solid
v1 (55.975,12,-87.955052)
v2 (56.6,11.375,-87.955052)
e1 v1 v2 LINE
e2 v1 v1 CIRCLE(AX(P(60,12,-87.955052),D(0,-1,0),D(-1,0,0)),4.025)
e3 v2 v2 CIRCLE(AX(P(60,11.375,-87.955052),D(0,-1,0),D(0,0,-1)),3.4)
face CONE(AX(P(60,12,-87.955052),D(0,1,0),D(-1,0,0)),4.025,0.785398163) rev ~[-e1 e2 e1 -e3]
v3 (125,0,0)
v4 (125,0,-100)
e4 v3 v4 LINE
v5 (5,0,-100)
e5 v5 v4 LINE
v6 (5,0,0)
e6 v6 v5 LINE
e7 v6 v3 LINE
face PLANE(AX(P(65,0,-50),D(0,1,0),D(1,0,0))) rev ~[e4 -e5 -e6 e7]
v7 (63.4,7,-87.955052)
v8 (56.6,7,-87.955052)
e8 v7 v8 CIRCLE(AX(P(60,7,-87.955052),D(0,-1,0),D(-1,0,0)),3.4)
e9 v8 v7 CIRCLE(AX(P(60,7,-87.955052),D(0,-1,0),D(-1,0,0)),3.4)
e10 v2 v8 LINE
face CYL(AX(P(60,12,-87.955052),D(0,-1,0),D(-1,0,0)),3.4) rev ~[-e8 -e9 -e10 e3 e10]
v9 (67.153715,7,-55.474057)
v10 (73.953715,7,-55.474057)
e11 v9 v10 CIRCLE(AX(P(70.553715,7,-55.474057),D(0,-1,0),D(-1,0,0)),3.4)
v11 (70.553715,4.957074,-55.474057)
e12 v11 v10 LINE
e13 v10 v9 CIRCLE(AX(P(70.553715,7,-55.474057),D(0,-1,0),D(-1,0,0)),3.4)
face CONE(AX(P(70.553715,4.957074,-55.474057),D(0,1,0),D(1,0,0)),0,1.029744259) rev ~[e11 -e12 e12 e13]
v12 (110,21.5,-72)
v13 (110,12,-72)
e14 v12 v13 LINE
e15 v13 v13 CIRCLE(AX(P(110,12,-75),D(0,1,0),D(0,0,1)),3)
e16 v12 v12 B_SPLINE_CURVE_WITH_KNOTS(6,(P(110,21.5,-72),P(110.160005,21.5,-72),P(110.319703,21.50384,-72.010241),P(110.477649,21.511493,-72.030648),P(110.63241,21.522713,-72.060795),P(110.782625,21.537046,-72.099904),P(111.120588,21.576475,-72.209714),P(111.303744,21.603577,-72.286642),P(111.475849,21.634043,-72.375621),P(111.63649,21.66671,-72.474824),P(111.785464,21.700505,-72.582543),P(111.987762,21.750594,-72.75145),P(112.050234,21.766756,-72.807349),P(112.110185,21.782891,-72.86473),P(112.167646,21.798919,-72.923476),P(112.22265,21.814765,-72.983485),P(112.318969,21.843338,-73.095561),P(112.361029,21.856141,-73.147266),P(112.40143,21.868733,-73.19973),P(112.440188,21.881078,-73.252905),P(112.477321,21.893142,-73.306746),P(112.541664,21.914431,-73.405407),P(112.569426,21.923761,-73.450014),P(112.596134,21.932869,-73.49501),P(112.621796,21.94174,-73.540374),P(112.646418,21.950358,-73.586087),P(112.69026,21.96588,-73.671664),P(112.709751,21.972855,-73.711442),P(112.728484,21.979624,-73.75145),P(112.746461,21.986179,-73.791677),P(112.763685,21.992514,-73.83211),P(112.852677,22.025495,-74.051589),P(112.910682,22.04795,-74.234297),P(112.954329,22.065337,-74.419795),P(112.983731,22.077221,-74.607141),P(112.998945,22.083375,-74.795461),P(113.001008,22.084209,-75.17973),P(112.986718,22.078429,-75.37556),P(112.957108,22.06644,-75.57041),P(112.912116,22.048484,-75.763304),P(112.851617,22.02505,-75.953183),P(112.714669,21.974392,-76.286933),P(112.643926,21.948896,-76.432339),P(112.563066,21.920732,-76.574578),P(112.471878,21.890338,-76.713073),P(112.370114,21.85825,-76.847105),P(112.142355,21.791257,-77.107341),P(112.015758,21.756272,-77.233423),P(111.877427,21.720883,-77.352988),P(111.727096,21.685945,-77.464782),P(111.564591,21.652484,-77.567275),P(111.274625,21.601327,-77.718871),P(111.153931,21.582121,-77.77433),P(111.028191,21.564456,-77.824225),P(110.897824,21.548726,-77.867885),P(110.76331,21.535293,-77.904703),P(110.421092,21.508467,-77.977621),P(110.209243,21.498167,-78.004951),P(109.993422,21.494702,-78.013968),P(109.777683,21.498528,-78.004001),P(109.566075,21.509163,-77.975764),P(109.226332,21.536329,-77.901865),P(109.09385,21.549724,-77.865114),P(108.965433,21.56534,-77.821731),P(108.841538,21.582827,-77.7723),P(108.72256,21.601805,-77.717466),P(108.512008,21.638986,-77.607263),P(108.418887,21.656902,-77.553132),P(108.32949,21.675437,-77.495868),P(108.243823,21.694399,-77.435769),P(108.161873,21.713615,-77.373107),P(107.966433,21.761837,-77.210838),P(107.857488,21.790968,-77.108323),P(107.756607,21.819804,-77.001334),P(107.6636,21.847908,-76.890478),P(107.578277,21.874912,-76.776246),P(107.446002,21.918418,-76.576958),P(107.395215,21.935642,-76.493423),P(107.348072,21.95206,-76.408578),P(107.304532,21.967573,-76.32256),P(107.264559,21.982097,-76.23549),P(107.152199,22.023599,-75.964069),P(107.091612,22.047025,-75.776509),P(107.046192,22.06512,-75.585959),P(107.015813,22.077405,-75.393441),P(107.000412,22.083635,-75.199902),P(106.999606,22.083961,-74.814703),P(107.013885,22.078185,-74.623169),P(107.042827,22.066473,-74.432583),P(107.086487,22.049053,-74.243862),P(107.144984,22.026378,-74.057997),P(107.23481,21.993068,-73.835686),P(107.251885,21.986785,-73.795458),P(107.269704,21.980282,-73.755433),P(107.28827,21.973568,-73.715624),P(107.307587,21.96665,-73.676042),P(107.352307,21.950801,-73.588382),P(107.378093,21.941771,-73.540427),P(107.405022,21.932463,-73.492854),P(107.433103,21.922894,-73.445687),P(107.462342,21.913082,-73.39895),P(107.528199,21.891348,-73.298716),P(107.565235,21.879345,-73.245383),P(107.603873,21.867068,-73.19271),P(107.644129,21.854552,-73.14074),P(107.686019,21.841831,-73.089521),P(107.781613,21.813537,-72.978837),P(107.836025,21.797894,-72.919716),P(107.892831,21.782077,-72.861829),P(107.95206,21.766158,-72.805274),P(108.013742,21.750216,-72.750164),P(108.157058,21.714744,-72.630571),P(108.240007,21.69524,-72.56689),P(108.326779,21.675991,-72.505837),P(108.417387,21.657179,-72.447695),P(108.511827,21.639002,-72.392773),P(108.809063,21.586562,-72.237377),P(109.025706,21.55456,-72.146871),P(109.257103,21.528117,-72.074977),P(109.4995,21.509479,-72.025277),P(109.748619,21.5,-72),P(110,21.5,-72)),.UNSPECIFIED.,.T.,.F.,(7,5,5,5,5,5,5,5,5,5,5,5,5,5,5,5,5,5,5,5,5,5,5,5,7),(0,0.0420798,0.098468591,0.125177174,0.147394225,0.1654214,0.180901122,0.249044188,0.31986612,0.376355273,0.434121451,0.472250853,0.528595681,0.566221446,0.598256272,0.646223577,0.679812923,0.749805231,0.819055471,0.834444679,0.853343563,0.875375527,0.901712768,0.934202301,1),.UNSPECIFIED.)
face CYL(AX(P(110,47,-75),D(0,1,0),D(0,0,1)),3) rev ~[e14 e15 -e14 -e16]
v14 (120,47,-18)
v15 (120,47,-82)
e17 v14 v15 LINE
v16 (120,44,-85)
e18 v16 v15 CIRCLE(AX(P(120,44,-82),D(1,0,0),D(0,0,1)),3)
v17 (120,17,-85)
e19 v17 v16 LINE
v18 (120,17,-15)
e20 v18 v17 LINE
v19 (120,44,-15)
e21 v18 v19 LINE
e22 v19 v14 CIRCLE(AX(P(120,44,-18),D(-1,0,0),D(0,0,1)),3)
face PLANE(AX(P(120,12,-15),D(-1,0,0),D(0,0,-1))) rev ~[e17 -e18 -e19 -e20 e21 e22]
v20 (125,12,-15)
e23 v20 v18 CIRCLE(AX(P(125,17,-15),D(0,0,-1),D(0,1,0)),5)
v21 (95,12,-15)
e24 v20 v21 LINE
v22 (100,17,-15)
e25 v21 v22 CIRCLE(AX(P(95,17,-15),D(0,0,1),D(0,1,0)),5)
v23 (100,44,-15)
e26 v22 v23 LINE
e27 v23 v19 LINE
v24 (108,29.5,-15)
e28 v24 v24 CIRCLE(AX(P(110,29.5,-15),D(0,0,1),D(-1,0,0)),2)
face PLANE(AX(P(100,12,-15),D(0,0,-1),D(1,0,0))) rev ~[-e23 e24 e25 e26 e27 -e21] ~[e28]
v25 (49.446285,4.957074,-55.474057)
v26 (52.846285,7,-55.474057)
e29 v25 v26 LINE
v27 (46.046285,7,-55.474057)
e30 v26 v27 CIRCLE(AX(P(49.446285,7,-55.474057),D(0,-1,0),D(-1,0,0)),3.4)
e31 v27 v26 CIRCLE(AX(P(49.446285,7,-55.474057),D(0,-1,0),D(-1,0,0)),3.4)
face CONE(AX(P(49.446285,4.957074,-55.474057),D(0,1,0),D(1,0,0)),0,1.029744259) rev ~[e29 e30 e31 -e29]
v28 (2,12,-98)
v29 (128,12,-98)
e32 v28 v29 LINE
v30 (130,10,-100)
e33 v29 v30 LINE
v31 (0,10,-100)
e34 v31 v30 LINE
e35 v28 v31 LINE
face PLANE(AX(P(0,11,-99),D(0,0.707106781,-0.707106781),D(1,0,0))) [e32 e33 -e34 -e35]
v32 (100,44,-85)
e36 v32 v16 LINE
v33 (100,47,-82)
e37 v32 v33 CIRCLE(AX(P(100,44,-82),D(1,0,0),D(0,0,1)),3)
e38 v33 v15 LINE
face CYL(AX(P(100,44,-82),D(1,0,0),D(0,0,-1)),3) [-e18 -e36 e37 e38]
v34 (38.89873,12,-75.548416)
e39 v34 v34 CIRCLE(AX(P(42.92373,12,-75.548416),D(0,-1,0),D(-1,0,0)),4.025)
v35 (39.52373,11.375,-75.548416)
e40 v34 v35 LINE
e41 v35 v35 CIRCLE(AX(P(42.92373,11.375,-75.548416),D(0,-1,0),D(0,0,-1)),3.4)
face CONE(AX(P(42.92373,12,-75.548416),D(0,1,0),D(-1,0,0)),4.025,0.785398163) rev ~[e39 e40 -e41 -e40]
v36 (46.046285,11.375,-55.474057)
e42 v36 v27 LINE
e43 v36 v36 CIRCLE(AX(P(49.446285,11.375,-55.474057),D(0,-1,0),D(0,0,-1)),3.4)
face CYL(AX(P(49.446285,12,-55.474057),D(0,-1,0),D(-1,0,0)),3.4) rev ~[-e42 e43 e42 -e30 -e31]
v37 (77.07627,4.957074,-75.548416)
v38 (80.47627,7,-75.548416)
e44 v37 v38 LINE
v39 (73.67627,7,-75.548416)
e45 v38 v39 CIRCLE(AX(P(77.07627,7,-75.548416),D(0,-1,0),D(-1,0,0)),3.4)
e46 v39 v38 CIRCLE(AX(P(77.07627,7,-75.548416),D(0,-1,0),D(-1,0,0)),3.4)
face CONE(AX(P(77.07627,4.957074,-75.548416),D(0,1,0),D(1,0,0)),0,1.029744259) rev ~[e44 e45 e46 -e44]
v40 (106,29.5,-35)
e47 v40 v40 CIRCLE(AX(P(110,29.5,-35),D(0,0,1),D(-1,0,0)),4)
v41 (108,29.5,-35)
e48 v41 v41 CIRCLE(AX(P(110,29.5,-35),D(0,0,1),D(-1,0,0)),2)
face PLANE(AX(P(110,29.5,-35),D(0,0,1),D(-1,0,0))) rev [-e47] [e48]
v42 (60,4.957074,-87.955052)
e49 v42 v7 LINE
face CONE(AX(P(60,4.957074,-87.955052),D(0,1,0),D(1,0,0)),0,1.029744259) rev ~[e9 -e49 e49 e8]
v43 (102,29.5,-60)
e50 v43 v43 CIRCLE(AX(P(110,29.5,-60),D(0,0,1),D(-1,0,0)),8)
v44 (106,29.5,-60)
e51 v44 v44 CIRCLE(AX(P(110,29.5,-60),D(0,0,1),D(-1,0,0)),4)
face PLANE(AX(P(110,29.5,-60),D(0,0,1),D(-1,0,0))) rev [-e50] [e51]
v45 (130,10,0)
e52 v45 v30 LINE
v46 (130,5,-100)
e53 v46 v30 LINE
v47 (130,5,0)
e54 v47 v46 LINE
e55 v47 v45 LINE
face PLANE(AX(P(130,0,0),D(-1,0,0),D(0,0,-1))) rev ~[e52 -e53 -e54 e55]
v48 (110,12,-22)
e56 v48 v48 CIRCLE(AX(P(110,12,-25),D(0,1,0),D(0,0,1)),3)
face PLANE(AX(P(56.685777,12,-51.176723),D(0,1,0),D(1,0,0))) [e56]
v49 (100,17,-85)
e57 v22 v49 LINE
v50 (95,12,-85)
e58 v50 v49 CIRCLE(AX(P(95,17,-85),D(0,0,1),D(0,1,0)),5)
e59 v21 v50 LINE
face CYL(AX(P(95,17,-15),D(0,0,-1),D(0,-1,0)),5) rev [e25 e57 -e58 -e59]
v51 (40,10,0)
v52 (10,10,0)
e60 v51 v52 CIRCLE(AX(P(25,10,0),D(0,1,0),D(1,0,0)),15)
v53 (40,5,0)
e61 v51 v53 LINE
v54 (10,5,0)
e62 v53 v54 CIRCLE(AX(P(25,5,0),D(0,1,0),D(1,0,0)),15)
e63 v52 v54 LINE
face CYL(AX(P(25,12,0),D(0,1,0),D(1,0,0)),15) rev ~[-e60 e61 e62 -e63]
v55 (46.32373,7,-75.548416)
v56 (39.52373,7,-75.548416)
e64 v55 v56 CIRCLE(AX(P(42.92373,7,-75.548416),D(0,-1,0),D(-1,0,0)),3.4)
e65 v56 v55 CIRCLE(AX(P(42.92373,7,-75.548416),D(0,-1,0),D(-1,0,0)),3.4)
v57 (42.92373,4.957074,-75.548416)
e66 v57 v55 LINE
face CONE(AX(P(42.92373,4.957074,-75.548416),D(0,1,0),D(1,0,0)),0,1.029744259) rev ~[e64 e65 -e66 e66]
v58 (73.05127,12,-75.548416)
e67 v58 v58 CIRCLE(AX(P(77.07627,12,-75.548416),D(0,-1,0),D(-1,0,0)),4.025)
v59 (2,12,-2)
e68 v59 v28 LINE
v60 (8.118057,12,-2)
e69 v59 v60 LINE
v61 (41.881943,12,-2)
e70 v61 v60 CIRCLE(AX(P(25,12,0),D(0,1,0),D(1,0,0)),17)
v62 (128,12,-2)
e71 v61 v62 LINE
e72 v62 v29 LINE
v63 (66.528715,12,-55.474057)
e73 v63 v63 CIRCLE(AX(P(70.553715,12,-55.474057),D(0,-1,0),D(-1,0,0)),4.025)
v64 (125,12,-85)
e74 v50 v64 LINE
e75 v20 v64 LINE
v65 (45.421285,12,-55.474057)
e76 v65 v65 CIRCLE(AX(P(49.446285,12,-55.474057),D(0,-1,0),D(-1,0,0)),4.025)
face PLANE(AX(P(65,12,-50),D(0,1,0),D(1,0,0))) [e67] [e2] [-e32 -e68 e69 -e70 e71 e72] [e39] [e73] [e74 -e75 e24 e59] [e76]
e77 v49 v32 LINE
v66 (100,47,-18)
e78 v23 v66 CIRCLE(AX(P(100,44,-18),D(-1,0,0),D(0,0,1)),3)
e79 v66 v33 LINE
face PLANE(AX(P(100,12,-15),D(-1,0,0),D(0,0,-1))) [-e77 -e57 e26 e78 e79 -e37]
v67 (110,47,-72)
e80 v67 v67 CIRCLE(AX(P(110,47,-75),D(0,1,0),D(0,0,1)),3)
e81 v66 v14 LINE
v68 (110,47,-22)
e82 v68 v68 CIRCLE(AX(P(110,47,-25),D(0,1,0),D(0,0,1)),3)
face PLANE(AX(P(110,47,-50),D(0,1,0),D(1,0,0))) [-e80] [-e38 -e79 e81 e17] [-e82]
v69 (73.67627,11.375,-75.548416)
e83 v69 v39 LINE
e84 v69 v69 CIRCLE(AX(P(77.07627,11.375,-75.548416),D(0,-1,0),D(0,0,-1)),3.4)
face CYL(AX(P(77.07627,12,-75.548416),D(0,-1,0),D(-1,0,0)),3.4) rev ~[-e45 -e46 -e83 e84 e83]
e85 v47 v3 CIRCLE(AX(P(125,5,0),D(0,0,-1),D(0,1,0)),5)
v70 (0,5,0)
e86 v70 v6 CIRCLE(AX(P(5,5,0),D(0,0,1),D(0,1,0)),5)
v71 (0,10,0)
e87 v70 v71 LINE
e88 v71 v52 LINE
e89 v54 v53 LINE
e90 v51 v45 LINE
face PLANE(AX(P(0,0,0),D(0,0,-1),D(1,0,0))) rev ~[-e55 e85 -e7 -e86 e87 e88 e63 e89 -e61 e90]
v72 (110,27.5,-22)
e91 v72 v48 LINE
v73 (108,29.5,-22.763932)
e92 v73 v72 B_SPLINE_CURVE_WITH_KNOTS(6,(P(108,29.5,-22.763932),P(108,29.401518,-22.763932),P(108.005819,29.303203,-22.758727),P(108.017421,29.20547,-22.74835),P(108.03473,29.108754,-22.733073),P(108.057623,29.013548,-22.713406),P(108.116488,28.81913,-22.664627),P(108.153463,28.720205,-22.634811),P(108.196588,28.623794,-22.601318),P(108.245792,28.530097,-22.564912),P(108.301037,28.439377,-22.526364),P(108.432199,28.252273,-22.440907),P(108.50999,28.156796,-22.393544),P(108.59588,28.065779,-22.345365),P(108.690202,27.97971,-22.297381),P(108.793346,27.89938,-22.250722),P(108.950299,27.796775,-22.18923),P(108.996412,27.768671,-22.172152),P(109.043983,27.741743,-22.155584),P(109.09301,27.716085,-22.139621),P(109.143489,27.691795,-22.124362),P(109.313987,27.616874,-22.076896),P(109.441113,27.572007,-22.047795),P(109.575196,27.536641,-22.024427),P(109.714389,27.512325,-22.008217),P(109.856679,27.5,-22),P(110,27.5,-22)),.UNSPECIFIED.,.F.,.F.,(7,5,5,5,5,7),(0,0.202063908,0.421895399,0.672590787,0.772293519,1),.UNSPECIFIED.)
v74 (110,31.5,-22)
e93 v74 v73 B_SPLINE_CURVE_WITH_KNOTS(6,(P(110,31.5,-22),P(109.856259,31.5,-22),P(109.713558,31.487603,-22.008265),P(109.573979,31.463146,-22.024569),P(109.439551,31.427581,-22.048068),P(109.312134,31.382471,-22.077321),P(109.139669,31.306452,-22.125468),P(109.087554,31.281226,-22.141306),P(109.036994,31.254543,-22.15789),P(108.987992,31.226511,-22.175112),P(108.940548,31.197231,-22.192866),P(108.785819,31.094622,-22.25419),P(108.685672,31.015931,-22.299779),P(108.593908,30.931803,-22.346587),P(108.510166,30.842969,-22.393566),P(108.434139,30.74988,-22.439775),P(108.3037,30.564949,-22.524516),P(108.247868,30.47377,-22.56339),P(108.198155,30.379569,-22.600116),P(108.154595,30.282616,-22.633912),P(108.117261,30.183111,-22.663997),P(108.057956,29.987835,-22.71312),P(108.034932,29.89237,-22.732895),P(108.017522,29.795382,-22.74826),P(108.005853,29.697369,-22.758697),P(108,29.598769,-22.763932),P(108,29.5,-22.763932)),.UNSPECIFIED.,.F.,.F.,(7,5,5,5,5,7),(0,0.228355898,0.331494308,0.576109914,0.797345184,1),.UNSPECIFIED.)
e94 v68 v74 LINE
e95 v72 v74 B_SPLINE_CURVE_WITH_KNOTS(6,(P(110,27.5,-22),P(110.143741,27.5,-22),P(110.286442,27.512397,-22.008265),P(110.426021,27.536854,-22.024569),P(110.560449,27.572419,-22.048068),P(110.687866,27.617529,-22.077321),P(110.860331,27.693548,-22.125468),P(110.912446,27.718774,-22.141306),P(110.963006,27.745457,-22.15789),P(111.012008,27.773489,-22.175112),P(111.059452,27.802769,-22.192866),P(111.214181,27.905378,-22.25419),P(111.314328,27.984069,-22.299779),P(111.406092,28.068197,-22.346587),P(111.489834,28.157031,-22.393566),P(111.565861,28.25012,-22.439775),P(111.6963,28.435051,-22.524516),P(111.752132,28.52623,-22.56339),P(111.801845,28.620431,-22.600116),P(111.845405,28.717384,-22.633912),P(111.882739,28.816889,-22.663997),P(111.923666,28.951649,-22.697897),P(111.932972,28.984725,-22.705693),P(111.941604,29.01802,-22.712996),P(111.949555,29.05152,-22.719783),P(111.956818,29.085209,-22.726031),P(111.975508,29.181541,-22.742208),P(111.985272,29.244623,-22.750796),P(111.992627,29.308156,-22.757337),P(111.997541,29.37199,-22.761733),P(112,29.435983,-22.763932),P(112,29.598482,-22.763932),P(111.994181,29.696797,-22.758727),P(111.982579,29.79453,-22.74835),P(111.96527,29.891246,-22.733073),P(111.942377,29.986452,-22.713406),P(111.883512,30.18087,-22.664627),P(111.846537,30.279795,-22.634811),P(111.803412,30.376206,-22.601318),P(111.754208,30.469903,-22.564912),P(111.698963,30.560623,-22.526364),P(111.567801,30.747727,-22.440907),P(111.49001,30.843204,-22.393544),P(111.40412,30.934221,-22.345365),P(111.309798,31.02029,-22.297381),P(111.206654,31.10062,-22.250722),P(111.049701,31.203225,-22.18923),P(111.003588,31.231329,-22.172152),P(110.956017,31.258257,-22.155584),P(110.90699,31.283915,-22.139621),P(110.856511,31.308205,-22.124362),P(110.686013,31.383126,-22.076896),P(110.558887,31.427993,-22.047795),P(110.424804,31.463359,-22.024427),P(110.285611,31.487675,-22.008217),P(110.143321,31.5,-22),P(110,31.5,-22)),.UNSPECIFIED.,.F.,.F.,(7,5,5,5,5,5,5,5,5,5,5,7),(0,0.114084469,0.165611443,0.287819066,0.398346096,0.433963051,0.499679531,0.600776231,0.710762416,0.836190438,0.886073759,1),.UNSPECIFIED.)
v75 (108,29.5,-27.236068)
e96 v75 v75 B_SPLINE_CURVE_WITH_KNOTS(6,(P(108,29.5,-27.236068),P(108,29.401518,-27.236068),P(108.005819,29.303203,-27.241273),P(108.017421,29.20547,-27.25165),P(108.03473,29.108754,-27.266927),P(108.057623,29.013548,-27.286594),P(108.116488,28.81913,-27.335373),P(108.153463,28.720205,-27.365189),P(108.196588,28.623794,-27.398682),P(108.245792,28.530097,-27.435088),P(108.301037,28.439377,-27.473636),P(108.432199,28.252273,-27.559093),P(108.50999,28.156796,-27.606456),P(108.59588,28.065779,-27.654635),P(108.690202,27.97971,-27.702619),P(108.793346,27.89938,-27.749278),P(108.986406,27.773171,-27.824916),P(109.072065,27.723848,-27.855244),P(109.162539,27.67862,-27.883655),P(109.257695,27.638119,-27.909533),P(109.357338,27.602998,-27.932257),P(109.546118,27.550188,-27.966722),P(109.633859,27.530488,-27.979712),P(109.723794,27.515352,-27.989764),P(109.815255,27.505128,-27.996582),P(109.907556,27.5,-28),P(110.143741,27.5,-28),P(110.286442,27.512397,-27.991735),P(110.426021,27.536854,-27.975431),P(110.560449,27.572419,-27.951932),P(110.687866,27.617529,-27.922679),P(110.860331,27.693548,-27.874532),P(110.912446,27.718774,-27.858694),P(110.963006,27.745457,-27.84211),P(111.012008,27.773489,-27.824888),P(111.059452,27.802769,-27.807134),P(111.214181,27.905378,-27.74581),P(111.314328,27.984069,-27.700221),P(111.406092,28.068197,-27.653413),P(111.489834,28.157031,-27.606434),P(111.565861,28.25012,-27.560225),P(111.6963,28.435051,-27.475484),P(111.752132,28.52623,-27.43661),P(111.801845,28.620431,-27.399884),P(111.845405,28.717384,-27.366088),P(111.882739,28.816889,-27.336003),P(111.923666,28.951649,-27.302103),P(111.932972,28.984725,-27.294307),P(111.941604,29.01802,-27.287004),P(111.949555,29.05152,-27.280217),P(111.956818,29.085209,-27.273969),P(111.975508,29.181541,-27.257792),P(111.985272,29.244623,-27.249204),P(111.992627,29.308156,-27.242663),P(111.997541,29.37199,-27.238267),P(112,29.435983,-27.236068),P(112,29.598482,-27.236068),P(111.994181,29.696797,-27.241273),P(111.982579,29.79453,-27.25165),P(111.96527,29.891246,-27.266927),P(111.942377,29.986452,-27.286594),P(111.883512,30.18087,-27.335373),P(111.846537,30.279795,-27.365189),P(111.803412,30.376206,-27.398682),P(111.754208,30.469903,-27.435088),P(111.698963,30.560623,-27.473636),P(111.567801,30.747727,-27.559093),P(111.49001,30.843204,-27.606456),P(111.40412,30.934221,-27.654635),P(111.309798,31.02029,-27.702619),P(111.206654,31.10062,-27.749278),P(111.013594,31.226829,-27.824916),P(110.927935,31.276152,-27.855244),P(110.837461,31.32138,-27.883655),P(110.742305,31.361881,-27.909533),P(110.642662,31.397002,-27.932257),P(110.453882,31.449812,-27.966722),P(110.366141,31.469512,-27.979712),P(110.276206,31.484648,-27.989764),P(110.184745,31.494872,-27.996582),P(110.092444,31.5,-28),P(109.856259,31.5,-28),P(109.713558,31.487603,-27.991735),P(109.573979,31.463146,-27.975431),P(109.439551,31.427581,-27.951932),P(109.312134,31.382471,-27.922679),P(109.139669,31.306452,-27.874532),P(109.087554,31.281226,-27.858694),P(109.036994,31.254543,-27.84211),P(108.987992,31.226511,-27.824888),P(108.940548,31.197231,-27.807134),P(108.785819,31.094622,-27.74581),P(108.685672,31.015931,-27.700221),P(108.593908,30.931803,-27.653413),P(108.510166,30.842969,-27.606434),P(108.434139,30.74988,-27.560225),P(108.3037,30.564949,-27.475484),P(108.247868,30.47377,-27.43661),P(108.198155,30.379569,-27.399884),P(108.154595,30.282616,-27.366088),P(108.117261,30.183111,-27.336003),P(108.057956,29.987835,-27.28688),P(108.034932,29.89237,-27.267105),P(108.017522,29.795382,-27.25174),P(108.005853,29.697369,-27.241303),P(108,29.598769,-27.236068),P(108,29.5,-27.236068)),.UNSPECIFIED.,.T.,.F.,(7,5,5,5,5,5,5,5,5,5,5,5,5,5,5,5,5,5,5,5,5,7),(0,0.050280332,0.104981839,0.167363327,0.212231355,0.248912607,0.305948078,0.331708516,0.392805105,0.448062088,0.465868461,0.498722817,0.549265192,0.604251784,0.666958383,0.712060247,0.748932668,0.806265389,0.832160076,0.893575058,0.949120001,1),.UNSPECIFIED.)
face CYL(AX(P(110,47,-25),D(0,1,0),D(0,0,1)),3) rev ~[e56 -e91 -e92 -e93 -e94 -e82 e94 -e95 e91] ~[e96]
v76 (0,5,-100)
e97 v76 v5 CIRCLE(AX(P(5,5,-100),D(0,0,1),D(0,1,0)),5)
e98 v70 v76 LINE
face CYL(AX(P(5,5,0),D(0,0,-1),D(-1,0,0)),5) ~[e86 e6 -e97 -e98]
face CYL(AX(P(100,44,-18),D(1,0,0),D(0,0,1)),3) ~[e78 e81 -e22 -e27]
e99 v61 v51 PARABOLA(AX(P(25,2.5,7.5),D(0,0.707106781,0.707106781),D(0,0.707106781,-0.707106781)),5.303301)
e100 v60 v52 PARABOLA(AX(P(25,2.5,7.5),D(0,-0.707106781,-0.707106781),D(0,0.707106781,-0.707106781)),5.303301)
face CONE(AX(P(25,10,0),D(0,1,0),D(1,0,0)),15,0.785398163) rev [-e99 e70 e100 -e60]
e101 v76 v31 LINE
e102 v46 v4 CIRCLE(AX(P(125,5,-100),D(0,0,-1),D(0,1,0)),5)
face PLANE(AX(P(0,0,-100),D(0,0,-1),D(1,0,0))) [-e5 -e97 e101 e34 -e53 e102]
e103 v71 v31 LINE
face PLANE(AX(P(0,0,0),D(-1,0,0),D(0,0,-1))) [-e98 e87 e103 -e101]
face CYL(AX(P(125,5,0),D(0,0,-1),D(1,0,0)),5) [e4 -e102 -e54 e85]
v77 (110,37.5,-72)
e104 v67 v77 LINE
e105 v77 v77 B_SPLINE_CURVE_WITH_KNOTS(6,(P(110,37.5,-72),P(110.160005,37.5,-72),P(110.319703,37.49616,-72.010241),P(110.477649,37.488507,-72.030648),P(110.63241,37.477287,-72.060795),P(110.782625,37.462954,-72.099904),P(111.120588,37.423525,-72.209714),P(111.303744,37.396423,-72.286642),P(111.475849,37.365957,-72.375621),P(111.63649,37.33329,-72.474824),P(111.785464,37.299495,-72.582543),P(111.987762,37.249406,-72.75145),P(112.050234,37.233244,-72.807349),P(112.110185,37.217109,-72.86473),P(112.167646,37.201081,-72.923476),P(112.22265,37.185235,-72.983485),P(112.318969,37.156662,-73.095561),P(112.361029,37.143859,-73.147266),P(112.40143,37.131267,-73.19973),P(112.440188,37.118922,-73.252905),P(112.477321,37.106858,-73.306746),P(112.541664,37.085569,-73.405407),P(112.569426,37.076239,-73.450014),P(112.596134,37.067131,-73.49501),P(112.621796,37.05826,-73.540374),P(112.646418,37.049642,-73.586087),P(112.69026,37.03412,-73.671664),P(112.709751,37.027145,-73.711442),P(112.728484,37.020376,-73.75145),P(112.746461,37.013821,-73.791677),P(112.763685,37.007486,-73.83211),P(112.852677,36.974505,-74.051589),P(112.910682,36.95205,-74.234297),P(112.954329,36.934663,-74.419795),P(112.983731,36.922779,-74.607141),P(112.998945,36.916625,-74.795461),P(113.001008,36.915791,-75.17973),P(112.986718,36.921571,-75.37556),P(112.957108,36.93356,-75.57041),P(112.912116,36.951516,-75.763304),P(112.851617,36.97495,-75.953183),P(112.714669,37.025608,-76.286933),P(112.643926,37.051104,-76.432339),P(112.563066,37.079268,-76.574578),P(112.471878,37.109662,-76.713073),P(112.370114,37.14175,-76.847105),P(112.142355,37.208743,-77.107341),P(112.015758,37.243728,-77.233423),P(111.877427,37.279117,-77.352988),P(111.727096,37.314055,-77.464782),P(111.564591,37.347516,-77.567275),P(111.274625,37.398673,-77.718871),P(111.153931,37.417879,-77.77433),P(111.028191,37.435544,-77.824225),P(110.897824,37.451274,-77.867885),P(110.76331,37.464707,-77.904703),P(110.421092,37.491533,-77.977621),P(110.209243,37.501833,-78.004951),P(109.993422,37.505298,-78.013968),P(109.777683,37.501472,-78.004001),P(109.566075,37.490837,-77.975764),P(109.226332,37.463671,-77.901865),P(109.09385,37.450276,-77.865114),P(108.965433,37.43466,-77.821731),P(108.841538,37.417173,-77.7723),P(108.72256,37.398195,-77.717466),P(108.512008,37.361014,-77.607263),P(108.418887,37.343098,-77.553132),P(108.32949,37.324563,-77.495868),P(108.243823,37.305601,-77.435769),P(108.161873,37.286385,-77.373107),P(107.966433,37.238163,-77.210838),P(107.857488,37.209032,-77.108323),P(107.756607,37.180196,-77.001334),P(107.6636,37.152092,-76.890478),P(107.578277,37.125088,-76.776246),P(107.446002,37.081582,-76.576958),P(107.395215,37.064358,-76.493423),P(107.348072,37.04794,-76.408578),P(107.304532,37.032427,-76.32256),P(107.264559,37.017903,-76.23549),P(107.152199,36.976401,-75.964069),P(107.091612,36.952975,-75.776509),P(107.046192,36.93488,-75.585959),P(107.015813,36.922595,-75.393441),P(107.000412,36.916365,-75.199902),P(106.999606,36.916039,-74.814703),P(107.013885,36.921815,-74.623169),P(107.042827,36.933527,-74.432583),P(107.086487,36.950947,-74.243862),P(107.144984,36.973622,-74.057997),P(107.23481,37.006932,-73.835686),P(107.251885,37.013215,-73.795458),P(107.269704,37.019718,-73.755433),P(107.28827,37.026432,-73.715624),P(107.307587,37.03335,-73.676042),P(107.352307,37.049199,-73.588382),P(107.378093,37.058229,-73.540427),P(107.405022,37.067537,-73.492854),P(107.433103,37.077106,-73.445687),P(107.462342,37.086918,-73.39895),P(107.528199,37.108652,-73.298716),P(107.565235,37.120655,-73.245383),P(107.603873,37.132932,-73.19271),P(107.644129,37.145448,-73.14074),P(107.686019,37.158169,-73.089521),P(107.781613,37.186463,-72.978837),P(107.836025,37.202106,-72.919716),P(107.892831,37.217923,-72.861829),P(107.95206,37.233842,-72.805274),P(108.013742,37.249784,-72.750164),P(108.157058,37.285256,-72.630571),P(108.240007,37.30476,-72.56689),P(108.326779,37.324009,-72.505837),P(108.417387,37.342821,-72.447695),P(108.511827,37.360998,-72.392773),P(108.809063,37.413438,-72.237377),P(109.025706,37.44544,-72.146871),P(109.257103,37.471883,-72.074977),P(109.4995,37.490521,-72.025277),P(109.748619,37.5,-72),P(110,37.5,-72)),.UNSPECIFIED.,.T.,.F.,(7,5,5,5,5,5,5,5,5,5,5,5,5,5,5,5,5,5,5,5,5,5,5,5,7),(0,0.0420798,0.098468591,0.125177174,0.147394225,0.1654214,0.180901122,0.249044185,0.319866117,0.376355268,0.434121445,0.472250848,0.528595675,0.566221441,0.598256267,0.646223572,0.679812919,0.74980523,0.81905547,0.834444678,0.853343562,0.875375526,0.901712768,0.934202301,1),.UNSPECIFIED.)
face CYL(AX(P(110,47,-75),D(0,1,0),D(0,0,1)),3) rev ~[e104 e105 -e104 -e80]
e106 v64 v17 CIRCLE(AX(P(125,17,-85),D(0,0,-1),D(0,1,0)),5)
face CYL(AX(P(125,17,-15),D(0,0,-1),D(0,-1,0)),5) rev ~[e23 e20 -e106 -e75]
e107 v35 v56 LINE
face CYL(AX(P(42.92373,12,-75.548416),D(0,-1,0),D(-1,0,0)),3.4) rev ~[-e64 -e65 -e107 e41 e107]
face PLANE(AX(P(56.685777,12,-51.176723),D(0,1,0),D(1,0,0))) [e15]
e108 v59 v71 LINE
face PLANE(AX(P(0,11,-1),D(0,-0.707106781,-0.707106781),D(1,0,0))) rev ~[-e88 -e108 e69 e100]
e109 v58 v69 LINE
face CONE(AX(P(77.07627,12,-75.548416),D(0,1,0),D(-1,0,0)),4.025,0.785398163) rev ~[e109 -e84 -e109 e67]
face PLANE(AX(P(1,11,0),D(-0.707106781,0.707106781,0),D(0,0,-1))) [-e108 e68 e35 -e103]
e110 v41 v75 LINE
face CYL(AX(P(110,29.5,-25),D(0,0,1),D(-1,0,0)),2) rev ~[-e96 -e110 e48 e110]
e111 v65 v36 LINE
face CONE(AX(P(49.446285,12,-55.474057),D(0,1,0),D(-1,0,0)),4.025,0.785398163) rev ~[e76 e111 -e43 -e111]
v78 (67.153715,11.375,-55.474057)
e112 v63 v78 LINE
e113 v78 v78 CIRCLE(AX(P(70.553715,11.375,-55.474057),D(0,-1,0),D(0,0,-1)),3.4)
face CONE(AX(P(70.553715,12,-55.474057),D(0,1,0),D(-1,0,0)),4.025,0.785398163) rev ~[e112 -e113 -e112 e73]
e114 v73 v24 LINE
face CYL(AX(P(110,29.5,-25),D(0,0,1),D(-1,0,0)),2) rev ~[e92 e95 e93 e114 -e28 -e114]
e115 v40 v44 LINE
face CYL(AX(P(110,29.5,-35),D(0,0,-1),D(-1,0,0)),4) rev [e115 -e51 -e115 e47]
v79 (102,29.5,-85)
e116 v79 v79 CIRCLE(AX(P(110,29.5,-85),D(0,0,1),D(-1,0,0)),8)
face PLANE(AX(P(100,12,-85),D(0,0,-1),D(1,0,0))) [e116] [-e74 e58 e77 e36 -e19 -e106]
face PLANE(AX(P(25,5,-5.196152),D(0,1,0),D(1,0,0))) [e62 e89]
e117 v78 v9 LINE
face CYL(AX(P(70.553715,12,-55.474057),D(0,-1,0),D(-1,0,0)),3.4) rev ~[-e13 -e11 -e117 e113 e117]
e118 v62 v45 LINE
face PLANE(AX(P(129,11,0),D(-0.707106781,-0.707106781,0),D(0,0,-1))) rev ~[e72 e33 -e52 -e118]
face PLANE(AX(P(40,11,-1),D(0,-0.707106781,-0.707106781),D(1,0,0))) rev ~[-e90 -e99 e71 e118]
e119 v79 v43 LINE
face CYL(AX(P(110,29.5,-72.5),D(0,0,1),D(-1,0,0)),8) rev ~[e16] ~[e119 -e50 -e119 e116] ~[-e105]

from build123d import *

# Parameters (mm, degrees)
SKETCH1_W                   = 130
SKETCH1_H                   = 100
BOSS_EXTRUDE1_DEPTH         = 12
CUT_EXTRUDE1_DEPTH          = 7
SKETCH4_W                   = 20
SKETCH4_H                   = 70
BOSS_EXTRUDE2_DEPTH         = 35
SKETCH5_W                   = 25
SKETCH5_H                   = 8
SKETCH5_W_2                 = 20
SKETCH5_H_2                 = 2
FILLET1_R                   = 5
CHAMFER1_SIZE               = 2
M8_TAPPED_HOLE1_D           = 6.8
M8_TAPPED_HOLE1_DEPTH       = 5
M8_TAPPED_HOLE1_CSINK_D     = 8.05
M8_TAPPED_HOLE1_CSINK_ANGLE = 90
M8_TAPPED_HOLE1_TIP         = 2.042926105
CUT_EXTRUDE2_REACH          = 172.614
SKETCH13_R                  = 3
FILLET2_R                   = 3
FILLET3_R                   = 5


with BuildPart() as part:
    # Sketch1 → Boss-Extrude1 (new body)
    with BuildSketch(Plane(origin=(0, 0, 0), x_dir=(1, 0, 0), z_dir=(0, 1, 0))):
        with Locations((65, 50)):
            Rectangle(SKETCH1_W, SKETCH1_H)
    extrude(amount=BOSS_EXTRUDE1_DEPTH)

    # Sketch3 → Cut-Extrude1 (cut)
    with BuildSketch(Plane(origin=(0, 12, 0), x_dir=(1, 0, 0), z_dir=(0, 1, 0))):
        with BuildLine():
            Line((10, 0), (40, 0))
            ThreePointArc((40, 0), (25, 15), (10, 0))
        make_face()
    extrude(amount=-CUT_EXTRUDE1_DEPTH, mode=Mode.SUBTRACT)

    # Sketch4 → Boss-Extrude2 (add)
    with BuildSketch(Plane(origin=(0, 12, 0), x_dir=(1, 0, 0), z_dir=(0, 1, 0))):
        with Locations((110, 50)):
            Rectangle(SKETCH4_W, SKETCH4_H)
    extrude(amount=BOSS_EXTRUDE2_DEPTH)

    # Sketch5 → Cut-Revolve1 (revolve, cut)
    with BuildSketch(Plane.ZY.offset(-110), mode=Mode.PRIVATE) as cut_revolve1_sk:
        with Locations((-72.5, 33.5)):
            Rectangle(SKETCH5_W, SKETCH5_H)
        Polygon((-60, 33.5), (-60, 29.5), (-35, 29.5), (-35, 31.5), (-35, 33.5), align=None)
        with Locations((-25, 30.5)):
            Rectangle(SKETCH5_W_2, SKETCH5_H_2)
    revolve(cut_revolve1_sk.sketch.rotate(Axis((110, 29.5, -85), (0, 0, 1)), 90), axis=Axis((110, 29.5, -85), (0, 0, 1)), mode=Mode.SUBTRACT)

    # Fillet1
    fillet1_edges = [part.edges().sort_by_distance(p)[0] for p in [
        (100, 12, -50),
        (120, 12, -50),
    ]]
    fillet(fillet1_edges, radius=FILLET1_R)

    # Chamfer1
    chamfer1_edges = [part.edges().sort_by_distance(p)[0] for p in [
        (130, 12, -50),
        (85, 12, 0),
        (65, 12, -100),
        (25, 12, -15),
        (0, 12, -50),
        (5, 12, 0),
    ]]
    chamfer(chamfer1_edges, length=CHAMFER1_SIZE)

    # M8 Tapped Hole1
    with Locations(Plane(origin=(0, 12, 0), x_dir=(1, 0, 0), z_dir=(0, 1, 0))):
        with Locations((42.923730365, 75.548416342), (60, 87.955052452), (77.076269635, 75.548416342), (70.553715035, 55.474057432), (49.446284965, 55.474057432)):
            CounterSinkHole(M8_TAPPED_HOLE1_D / 2, M8_TAPPED_HOLE1_CSINK_D / 2, depth=M8_TAPPED_HOLE1_DEPTH, counter_sink_angle=M8_TAPPED_HOLE1_CSINK_ANGLE)
            with Locations((0, 0, -(M8_TAPPED_HOLE1_DEPTH + M8_TAPPED_HOLE1_TIP / 2))):  # 118° drill point
                Cone(0, M8_TAPPED_HOLE1_D / 2, M8_TAPPED_HOLE1_TIP, mode=Mode.SUBTRACT)

    # Cut-Extrude2: up to this face of the body (flat: up to its plane)
    cut_extrude2_end = Plane(part.part.faces().sort_by_distance((56.685777118, 12, -51.176723205))[0])
    # Sketch13 → Cut-Extrude2 (cut, up to the picked face)
    with BuildSketch(Plane(origin=(0, 47, 0), x_dir=(1, 0, 0), z_dir=(0, 1, 0)), mode=Mode.PRIVATE) as cut_extrude2_sk1:
        with Locations(Location((110, 75, 0), (0, 0, 270))):
            Circle(SKETCH13_R)
    cut_extrude2_tool1 = split(extrude(cut_extrude2_sk1.sketch, amount=-CUT_EXTRUDE2_REACH, mode=Mode.PRIVATE), bisect_by=cut_extrude2_end, keep=Keep.BOTH, mode=Mode.PRIVATE)
    # Sketch13 → Cut-Extrude2 (cut, up to the picked face)
    with BuildSketch(Plane(origin=(0, 47, 0), x_dir=(1, 0, 0), z_dir=(0, 1, 0)), mode=Mode.PRIVATE) as cut_extrude2_sk2:
        with Locations(Location((110, 25, 0), (0, 0, 270))):
            Circle(SKETCH13_R)
    cut_extrude2_tool2 = split(extrude(cut_extrude2_sk2.sketch, amount=-CUT_EXTRUDE2_REACH, mode=Mode.PRIVATE), bisect_by=cut_extrude2_end, keep=Keep.BOTH, mode=Mode.PRIVATE)
    add(cut_extrude2_tool1.solids().sort_by(Axis((110, 47, -75), (0, -1, 0)))[0], mode=Mode.SUBTRACT)
    add(cut_extrude2_tool2.solids().sort_by(Axis((110, 47, -25), (0, -1, 0)))[0], mode=Mode.SUBTRACT)

    # Fillet2
    fillet2_edges = [part.edges().sort_by_distance(p)[0] for p in [
        (110, 47, -15),
        (110, 47, -85),
    ]]
    fillet(fillet2_edges, radius=FILLET2_R)

    # Fillet3
    fillet3_edges = [part.edges().sort_by_distance(p)[0] for p in [
        (130, 0, -50),
        (0, 0, -50),
    ]]
    fillet(fillet3_edges, radius=FILLET3_R)


solid = part.part
